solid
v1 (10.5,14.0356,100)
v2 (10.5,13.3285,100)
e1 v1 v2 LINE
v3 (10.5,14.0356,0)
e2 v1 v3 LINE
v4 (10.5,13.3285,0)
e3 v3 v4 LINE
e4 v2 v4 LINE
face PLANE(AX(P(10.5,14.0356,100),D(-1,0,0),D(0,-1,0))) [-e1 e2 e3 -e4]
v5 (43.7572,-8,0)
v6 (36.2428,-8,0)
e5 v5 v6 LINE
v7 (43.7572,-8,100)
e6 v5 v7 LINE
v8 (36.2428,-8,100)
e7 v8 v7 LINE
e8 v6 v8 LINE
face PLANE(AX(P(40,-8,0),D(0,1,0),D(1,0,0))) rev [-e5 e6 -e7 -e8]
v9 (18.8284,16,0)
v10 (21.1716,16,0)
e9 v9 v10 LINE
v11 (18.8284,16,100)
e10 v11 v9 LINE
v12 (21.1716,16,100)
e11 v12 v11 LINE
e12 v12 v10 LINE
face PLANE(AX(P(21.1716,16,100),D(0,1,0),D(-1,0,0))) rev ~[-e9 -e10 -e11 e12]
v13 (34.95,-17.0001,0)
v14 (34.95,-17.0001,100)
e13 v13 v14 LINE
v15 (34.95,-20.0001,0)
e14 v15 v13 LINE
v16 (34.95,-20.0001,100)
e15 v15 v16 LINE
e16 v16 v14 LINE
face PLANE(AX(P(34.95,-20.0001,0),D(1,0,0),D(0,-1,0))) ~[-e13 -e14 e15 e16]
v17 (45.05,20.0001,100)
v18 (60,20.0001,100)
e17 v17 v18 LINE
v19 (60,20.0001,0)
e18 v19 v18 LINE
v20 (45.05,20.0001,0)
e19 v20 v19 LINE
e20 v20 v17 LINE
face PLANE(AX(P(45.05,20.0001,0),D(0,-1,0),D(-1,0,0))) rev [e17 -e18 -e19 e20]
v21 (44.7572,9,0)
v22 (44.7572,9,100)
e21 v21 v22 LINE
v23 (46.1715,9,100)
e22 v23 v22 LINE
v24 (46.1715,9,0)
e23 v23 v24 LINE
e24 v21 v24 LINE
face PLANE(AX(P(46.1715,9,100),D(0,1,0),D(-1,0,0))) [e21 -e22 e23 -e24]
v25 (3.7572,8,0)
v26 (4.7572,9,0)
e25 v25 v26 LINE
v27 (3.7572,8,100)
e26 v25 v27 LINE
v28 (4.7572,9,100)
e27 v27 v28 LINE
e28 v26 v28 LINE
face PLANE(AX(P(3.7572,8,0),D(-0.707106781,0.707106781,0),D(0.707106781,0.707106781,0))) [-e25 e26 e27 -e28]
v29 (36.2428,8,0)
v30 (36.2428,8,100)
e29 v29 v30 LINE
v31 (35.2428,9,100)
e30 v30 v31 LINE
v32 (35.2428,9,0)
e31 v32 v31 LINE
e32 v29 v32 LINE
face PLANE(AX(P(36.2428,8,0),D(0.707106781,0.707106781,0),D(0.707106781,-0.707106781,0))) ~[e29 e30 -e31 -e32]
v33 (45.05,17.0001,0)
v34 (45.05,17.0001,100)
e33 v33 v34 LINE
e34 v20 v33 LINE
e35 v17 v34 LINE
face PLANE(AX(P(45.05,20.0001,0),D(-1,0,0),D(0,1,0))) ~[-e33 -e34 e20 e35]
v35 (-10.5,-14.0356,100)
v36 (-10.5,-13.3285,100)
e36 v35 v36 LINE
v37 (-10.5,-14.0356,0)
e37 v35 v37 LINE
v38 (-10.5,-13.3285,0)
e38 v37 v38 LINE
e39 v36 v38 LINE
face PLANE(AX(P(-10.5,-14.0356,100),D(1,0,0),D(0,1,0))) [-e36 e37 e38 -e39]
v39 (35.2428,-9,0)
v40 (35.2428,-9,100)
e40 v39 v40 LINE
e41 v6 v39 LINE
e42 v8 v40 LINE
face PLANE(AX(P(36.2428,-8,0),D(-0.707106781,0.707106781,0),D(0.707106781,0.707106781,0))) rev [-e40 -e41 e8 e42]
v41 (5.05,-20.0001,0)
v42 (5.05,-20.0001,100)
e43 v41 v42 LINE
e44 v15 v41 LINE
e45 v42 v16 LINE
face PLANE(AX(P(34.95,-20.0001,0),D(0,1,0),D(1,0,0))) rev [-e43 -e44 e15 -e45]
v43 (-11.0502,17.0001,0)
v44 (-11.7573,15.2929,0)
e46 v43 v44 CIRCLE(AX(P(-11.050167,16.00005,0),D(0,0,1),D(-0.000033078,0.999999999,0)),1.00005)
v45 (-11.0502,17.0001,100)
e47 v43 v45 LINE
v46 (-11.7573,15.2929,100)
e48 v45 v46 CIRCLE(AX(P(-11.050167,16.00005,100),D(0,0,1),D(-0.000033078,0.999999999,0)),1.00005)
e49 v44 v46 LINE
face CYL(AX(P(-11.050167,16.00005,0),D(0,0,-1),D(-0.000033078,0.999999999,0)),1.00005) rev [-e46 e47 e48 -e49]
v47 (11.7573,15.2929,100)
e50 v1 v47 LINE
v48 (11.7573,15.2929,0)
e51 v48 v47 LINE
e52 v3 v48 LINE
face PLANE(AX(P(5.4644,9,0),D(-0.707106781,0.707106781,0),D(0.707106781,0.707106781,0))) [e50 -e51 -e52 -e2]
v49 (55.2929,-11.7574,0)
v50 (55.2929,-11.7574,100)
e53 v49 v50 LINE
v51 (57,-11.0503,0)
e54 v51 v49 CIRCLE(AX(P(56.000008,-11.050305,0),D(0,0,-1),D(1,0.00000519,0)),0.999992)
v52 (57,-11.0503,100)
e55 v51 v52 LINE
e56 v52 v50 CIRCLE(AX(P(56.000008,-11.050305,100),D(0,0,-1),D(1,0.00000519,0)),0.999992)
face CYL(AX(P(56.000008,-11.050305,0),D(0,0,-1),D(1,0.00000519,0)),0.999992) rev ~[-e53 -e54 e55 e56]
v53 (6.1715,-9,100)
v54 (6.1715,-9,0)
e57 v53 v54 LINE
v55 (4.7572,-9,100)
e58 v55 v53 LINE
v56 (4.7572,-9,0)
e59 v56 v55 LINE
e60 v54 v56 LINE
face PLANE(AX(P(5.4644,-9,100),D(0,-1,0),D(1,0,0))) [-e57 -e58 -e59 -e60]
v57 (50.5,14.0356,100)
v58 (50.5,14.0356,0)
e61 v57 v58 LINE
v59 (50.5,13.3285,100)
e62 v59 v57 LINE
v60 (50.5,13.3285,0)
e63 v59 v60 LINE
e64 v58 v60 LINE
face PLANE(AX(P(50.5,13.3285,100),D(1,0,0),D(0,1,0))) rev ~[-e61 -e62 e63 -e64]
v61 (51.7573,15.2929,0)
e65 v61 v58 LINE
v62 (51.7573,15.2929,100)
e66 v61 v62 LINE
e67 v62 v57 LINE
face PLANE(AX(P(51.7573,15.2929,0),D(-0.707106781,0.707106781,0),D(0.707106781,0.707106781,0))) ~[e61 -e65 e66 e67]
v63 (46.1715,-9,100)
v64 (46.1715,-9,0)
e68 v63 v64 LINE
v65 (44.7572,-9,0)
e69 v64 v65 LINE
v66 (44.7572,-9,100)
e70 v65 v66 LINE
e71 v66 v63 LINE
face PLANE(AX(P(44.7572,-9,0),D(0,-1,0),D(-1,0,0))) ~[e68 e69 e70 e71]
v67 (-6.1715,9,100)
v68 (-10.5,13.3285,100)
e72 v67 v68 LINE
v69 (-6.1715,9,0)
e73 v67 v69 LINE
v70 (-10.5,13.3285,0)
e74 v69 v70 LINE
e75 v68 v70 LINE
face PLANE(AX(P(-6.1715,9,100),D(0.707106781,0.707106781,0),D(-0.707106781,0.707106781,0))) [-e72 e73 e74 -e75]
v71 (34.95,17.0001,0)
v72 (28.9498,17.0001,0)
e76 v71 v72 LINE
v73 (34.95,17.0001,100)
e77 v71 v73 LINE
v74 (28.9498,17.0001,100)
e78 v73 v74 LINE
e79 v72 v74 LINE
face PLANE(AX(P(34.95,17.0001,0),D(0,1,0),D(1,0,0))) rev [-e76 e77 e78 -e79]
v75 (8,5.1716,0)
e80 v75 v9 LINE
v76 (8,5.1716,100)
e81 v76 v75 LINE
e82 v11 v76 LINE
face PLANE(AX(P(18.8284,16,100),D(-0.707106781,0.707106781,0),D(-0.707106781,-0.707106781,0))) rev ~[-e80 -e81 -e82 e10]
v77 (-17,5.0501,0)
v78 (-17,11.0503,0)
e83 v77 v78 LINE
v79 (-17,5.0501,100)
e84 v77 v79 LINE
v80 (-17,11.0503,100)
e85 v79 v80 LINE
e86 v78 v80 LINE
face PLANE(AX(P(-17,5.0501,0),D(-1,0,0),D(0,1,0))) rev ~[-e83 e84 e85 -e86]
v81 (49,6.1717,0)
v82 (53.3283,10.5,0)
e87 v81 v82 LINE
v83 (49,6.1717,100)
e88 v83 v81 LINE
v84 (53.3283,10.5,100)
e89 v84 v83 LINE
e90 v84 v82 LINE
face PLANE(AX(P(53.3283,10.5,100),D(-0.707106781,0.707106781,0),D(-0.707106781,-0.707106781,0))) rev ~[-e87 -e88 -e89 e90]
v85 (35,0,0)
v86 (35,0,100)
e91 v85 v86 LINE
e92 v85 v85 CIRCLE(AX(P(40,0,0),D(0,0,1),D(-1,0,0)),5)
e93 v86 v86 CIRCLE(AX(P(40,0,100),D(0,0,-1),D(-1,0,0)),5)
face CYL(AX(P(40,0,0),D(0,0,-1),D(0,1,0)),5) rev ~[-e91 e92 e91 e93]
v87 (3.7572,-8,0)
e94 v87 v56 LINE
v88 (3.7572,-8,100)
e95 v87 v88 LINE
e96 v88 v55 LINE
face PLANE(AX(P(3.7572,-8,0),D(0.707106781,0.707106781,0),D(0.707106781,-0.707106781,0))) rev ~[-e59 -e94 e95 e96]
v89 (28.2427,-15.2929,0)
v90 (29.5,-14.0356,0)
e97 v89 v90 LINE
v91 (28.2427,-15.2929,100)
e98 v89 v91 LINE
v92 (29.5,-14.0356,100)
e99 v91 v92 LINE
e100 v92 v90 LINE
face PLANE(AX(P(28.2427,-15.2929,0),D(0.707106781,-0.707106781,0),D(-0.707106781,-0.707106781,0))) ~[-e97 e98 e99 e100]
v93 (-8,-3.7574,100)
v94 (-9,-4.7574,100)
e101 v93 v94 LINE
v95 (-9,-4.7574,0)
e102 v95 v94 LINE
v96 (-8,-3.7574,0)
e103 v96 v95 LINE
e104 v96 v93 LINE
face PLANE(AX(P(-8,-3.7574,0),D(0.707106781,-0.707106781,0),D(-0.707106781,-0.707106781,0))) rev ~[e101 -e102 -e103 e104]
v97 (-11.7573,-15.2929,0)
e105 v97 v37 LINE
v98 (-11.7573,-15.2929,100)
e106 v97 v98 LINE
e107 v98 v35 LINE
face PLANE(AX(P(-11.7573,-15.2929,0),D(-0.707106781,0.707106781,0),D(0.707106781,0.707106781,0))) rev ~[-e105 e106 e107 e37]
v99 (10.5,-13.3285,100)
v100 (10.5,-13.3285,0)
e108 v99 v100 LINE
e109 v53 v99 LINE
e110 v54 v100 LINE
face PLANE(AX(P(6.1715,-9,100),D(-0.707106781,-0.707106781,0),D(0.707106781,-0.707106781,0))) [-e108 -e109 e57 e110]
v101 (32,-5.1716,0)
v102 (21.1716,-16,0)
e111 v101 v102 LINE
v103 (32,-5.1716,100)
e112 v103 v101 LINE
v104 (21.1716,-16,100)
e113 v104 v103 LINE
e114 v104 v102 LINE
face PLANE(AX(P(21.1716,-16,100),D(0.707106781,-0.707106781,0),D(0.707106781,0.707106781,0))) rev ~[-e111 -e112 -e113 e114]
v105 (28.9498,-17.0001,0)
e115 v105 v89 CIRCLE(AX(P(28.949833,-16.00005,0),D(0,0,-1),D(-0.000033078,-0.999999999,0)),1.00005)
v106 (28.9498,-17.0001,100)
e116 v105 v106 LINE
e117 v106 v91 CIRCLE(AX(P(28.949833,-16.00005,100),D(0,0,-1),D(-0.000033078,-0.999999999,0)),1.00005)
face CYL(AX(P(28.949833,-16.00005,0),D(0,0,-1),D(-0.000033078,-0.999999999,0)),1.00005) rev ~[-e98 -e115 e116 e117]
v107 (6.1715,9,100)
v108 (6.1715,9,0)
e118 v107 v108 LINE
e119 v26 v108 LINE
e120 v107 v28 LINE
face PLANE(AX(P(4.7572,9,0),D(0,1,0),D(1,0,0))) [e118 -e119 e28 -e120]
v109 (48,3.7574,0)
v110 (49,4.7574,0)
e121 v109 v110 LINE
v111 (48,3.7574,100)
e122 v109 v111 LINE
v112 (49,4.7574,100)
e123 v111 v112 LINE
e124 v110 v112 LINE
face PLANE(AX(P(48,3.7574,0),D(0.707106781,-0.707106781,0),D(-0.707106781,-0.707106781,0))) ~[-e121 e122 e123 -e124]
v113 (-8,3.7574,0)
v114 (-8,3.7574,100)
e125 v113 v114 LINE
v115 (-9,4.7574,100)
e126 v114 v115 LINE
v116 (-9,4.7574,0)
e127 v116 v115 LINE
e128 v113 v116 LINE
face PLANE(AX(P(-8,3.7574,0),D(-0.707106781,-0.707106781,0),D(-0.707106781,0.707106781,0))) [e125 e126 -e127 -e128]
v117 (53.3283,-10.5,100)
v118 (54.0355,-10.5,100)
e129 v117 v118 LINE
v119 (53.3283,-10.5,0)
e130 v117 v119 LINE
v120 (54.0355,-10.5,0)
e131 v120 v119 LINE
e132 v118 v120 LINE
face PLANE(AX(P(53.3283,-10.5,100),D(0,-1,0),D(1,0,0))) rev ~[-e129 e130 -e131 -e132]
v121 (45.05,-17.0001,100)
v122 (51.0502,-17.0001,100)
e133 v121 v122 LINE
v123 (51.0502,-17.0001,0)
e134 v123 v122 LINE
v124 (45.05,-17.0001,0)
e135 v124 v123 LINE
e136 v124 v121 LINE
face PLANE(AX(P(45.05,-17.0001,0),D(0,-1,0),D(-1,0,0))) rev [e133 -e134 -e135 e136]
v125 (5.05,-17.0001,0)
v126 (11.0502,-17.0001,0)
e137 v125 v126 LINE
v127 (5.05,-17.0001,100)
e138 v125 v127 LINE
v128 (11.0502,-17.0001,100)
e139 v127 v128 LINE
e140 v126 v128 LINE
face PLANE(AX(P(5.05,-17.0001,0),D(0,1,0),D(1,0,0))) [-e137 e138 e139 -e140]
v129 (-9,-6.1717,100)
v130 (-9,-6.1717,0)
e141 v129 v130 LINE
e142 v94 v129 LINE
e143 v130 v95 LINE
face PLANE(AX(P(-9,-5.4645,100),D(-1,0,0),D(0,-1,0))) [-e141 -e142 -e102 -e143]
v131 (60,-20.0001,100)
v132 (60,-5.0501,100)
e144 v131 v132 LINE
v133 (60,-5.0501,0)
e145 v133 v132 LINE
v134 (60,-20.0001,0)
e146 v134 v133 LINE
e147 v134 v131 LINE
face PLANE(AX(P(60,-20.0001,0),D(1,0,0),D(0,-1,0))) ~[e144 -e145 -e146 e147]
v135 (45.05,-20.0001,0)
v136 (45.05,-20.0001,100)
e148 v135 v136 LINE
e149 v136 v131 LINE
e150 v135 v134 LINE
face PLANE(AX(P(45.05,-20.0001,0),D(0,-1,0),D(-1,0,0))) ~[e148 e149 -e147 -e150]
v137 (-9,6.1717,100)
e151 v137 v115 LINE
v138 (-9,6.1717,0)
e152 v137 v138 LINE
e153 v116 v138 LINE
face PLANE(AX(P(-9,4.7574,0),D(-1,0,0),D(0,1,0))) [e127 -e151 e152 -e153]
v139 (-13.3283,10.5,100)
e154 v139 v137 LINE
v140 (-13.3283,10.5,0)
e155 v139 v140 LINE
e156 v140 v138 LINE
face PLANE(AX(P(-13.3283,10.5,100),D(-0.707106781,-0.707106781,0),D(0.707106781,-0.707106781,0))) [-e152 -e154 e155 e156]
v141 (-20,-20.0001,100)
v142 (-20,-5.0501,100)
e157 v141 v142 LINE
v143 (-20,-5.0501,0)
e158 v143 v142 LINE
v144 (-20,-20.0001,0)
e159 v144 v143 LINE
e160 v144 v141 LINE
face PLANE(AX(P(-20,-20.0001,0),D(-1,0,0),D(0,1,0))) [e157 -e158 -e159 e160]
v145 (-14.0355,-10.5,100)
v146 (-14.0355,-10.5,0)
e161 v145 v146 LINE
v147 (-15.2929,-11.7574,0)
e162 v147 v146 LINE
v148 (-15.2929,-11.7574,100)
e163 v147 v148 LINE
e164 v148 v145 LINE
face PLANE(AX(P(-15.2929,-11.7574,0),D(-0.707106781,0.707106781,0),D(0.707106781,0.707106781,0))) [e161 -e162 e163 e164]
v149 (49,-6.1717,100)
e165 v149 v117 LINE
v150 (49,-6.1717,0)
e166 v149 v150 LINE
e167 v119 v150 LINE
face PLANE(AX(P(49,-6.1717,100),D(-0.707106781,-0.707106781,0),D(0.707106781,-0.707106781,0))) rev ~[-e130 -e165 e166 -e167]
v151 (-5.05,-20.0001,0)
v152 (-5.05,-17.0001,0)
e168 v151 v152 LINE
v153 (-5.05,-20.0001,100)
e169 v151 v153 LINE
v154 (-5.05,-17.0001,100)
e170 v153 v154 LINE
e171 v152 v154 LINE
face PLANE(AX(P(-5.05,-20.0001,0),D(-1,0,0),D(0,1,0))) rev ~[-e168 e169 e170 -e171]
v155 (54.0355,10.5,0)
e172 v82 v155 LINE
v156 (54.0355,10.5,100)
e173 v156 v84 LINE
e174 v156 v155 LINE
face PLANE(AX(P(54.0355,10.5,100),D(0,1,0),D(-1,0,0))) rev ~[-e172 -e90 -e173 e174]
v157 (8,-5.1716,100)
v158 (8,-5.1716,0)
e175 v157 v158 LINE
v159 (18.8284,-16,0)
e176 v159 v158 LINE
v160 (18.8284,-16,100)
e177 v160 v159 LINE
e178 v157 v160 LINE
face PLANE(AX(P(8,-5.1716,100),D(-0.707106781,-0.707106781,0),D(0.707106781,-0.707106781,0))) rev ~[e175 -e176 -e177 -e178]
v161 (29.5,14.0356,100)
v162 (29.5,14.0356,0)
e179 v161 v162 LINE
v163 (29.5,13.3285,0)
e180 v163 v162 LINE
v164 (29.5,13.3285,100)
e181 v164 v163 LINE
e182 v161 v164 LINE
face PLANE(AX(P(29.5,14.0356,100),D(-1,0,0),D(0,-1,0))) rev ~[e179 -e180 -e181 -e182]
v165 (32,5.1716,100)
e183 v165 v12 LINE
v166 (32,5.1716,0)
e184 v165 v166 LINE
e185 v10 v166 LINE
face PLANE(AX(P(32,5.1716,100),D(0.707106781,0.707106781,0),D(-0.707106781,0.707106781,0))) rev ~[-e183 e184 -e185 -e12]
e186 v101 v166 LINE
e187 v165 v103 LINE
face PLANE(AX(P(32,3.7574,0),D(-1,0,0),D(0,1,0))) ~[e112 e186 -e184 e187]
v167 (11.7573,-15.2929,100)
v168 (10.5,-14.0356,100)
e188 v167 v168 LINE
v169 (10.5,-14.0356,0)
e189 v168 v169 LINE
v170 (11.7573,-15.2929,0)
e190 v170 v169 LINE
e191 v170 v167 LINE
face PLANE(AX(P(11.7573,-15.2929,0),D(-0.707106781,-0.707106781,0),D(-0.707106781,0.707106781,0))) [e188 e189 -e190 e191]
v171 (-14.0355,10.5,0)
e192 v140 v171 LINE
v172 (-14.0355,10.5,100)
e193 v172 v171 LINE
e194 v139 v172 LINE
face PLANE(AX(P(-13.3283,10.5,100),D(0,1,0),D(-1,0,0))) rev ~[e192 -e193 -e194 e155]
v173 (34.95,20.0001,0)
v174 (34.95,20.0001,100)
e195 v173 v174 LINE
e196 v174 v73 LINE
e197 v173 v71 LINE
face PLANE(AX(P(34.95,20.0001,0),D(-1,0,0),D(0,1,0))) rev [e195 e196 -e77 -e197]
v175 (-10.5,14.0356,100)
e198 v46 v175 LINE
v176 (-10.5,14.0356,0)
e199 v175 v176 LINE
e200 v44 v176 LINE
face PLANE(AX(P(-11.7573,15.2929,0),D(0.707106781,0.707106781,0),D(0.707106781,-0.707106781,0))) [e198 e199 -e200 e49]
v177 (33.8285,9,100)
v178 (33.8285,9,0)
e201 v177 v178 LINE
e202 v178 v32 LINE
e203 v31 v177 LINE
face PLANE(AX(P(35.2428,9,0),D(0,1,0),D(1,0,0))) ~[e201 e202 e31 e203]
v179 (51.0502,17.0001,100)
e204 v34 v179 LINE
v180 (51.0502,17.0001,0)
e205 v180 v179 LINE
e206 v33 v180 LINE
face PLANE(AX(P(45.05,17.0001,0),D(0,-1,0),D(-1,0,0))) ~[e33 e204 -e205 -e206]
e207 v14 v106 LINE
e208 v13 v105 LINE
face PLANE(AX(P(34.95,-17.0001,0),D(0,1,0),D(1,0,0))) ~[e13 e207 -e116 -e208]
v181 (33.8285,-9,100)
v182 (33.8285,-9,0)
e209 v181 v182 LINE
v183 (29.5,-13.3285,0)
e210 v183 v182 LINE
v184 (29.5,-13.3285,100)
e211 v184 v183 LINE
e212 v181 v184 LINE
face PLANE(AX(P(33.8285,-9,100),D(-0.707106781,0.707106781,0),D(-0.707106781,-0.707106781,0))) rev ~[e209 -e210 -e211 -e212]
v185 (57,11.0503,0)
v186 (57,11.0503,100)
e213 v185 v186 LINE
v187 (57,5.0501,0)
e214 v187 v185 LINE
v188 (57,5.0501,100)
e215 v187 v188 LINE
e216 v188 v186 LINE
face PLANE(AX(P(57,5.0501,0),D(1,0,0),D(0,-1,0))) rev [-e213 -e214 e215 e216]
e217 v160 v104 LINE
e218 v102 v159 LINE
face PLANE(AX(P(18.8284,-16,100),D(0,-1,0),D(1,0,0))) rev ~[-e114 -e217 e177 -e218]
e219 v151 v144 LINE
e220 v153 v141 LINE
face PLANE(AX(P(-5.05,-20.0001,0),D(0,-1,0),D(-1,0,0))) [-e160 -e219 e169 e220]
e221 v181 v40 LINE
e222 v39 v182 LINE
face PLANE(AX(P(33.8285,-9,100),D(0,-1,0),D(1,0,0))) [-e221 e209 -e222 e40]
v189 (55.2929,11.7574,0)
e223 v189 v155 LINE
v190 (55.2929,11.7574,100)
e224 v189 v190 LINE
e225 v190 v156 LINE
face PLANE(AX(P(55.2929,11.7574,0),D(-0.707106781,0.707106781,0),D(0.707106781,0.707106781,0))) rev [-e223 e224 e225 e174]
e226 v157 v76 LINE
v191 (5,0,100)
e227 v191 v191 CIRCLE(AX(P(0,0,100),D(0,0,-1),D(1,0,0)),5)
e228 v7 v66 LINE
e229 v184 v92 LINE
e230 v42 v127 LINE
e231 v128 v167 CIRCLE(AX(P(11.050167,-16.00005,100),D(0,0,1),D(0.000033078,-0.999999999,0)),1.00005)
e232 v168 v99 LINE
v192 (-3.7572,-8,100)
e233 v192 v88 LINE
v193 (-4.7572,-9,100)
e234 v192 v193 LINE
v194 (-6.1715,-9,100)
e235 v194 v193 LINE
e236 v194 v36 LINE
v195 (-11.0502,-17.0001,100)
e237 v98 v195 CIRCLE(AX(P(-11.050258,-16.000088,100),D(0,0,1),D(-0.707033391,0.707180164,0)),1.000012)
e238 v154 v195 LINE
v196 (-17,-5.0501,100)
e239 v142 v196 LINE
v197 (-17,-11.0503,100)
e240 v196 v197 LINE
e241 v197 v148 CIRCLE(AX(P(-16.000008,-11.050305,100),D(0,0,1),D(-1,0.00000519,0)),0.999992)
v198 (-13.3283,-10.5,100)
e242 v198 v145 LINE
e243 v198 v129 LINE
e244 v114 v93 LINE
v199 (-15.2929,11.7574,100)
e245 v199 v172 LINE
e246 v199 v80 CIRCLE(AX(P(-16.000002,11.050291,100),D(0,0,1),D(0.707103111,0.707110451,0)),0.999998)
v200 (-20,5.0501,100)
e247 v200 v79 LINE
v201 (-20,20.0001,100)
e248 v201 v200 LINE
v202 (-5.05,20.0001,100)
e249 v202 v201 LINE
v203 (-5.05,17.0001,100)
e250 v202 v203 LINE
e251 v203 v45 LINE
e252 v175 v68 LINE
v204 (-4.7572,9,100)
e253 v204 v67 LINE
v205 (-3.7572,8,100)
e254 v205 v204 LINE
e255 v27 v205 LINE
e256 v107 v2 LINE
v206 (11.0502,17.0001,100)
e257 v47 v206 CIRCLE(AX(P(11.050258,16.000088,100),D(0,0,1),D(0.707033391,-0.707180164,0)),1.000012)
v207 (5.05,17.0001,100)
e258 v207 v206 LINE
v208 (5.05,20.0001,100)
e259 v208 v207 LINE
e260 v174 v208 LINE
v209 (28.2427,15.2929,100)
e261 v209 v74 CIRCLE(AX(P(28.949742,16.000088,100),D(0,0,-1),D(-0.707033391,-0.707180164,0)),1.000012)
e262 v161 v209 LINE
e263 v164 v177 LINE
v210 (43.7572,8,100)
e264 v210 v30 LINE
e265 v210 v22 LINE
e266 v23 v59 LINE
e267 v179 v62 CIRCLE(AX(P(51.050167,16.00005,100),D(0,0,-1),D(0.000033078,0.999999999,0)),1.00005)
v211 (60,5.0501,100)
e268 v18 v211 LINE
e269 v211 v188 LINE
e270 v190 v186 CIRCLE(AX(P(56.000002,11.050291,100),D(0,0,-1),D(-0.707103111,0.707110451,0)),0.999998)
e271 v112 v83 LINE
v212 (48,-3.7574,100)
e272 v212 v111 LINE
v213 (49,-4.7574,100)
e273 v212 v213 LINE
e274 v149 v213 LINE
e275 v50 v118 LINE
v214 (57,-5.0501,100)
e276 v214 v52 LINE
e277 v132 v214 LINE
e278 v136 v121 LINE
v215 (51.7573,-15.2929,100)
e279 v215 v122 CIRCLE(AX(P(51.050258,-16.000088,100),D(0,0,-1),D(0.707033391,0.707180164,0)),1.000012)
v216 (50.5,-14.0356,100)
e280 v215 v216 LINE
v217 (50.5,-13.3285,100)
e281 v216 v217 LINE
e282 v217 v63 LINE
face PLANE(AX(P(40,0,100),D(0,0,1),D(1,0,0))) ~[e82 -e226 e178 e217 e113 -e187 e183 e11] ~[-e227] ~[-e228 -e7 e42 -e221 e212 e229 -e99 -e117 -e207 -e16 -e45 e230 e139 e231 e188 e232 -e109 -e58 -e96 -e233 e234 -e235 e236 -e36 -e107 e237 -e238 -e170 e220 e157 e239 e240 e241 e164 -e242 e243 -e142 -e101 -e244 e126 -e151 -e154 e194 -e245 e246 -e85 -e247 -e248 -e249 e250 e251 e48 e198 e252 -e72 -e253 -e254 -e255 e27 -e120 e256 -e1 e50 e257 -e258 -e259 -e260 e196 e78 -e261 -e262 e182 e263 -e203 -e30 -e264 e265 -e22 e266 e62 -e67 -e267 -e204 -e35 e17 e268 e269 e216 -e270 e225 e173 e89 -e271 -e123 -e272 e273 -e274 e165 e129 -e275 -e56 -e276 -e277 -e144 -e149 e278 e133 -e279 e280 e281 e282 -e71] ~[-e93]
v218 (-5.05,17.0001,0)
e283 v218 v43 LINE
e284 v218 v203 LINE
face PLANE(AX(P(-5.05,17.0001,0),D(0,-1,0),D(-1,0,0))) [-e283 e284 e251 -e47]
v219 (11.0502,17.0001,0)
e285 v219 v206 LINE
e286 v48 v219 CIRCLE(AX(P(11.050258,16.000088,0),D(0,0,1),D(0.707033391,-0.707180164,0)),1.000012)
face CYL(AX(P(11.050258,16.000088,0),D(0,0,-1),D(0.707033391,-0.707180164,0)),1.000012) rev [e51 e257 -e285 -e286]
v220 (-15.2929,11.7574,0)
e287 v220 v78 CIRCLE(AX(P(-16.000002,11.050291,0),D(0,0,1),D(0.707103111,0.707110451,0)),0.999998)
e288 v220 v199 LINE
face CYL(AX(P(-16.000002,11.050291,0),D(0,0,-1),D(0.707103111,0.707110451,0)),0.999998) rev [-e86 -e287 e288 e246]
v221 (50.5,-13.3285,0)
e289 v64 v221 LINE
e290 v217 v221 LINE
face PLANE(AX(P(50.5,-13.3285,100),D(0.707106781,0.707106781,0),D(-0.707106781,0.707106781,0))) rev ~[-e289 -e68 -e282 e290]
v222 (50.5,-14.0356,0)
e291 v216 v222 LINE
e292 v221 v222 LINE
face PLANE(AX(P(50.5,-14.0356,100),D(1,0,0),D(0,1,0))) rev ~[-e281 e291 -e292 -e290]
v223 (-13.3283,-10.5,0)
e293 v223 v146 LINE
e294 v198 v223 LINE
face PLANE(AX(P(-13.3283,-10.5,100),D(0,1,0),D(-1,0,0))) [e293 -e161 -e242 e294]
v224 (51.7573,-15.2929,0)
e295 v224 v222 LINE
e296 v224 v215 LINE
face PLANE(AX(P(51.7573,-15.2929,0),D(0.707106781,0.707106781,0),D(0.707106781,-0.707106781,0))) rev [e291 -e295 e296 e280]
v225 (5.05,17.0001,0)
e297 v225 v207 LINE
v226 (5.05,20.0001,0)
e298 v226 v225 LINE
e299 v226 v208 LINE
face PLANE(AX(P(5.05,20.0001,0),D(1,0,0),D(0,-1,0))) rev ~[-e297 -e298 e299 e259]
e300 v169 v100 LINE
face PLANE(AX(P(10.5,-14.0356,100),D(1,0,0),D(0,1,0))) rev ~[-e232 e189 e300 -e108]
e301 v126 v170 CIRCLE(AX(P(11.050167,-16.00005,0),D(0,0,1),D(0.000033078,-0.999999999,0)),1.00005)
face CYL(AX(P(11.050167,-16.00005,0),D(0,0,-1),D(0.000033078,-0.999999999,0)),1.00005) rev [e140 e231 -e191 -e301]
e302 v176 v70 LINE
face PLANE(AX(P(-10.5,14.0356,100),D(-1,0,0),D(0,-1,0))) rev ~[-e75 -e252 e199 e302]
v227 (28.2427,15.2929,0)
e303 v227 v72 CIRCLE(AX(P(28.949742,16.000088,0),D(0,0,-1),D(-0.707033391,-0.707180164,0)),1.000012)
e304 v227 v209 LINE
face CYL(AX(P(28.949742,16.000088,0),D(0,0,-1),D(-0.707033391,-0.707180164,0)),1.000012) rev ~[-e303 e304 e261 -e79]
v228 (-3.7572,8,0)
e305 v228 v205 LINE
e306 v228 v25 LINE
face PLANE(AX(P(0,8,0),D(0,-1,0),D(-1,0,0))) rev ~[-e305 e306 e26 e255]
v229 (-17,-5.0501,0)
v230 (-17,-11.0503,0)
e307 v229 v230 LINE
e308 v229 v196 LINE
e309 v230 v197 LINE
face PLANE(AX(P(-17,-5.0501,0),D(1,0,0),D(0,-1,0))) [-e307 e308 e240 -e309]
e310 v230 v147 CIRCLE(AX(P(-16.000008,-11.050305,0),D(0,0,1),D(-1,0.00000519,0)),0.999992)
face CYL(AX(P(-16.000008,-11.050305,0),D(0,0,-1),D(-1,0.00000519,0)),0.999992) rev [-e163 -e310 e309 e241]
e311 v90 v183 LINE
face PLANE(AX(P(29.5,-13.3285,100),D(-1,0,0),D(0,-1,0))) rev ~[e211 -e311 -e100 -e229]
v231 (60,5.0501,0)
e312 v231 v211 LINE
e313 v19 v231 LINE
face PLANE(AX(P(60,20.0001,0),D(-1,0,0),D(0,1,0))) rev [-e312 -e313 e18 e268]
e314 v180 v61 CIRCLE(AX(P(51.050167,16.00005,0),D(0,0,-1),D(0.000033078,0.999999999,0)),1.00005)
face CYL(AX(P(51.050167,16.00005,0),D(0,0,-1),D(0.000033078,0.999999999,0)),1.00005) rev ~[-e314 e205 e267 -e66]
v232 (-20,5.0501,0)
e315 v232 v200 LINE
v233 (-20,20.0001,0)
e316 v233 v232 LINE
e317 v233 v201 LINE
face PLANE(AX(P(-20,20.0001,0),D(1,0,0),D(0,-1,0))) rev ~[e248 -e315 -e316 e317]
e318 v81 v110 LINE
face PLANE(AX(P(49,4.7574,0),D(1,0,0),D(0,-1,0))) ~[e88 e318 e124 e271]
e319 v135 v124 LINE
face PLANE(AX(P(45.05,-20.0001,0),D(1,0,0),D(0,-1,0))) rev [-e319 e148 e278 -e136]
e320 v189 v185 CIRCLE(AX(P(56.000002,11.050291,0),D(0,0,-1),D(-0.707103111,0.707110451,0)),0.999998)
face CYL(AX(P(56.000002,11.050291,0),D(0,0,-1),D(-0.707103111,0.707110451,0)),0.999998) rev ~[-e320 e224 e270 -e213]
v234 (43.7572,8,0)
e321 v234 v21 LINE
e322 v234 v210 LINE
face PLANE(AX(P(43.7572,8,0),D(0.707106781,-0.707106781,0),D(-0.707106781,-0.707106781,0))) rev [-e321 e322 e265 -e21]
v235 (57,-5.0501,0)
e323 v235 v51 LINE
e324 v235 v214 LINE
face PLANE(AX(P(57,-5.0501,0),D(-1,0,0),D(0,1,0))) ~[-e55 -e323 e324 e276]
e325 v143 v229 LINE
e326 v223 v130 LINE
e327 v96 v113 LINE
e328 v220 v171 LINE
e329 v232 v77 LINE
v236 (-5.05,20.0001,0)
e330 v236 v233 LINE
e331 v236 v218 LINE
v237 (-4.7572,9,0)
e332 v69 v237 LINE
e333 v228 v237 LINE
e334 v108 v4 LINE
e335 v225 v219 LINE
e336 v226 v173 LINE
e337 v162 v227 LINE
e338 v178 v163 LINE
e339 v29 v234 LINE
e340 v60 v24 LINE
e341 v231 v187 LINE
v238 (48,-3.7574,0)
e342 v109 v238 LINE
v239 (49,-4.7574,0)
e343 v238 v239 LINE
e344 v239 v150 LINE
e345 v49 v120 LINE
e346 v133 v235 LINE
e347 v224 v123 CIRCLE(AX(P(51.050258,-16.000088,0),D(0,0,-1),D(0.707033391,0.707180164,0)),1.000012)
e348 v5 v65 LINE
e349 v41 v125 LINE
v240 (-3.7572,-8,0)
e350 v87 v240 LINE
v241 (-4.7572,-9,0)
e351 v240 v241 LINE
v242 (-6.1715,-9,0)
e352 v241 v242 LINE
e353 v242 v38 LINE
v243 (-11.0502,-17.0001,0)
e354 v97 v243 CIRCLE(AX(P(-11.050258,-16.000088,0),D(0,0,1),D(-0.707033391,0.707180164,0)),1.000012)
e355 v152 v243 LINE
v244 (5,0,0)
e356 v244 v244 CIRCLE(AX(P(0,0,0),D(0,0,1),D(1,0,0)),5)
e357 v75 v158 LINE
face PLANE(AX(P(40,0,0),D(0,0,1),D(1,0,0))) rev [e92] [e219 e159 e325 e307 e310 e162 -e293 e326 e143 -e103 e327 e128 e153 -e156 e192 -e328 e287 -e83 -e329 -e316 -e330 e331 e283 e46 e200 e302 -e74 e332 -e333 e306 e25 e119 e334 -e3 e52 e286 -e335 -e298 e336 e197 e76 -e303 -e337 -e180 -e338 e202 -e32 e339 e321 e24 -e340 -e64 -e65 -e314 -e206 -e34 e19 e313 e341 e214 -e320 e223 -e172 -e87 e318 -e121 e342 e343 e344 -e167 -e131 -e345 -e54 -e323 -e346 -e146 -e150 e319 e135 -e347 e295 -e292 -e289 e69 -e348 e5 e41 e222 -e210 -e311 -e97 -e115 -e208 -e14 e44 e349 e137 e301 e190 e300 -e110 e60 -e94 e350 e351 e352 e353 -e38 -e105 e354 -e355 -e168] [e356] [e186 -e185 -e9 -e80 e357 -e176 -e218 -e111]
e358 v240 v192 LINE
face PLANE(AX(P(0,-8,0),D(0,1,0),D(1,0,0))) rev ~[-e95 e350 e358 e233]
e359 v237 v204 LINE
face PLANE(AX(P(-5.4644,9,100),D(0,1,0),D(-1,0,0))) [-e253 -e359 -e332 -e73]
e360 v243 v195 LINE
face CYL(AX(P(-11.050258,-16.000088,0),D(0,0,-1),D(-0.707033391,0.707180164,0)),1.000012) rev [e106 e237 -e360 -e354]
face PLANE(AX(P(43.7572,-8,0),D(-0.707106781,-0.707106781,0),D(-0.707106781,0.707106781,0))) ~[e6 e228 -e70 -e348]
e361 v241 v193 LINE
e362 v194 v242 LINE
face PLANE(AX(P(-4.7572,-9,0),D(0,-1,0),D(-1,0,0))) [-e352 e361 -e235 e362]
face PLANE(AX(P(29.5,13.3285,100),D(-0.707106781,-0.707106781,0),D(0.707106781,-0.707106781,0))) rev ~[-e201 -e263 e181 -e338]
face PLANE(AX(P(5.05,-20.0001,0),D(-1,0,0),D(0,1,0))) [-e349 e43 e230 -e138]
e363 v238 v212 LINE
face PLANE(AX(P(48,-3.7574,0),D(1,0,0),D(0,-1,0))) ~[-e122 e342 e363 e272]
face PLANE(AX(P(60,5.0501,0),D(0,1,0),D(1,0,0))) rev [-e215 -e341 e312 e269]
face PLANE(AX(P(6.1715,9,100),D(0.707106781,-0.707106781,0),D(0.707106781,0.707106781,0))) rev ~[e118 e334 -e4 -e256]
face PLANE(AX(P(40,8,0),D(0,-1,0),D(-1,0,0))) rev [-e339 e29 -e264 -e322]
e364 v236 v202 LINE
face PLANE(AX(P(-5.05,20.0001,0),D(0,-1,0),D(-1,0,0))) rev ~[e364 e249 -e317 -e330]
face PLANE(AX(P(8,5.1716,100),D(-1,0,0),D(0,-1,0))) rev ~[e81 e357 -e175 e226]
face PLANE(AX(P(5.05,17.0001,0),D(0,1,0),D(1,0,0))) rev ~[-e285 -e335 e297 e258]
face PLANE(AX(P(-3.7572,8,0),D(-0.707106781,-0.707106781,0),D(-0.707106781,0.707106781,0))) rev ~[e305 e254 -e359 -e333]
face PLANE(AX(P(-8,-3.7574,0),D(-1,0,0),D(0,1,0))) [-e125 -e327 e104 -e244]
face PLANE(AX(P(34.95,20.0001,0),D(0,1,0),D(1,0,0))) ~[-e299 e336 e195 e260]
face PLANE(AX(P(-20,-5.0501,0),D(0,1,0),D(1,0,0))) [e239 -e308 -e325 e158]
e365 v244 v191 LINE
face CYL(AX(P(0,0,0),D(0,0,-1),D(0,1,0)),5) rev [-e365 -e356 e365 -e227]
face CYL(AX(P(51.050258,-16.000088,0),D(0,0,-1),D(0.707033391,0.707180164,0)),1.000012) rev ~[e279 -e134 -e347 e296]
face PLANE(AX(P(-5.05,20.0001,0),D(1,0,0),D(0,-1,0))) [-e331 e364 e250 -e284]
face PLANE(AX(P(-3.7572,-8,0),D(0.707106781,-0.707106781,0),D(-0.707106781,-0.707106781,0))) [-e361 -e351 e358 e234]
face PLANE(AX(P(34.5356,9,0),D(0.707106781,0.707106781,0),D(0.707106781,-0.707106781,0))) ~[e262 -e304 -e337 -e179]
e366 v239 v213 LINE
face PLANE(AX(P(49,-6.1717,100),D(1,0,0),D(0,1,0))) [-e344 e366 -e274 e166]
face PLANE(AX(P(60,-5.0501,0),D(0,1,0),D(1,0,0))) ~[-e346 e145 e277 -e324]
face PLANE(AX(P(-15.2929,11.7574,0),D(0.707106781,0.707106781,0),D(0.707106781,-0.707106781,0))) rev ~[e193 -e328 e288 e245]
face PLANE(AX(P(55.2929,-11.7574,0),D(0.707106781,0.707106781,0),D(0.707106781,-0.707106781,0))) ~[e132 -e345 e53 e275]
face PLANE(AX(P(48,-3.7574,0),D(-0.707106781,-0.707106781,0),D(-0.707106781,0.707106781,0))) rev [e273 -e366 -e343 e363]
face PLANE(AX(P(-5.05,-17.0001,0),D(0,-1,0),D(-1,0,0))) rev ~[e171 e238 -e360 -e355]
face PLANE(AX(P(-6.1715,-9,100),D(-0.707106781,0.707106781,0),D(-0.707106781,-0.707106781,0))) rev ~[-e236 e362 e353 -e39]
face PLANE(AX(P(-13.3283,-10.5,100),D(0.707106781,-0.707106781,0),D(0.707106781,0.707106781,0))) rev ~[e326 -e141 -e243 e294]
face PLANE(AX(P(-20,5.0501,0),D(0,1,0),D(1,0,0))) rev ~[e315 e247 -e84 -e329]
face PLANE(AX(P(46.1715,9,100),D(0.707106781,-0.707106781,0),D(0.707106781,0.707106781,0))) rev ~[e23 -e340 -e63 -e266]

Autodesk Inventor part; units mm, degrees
ref_plane "YZ Plane" through (0, 0, 0) normal (1, 0, 0) x (0, 1, 0)
ref_plane "XZ Plane" through (0, 0, 0) normal (0, 1, 0) x (-1, 0, 0)
ref_plane "XY Plane" through (0, 0, 0) normal (0, 0, 1) x (1, 0, 0)
sketch "Sketch1" plane through (0, 0, 0) normal (0, 0, 1) x (1, 0, 0)
  arc A0 (0, 5) -> (-5, 0) centre (0, 0) ccw
  line L0 (-5.05, 20.0001) -> (-20, 20.0001)
  line L1 (-20, 20.0001) -> (-20, 5.0501)
  line L2 (-20, 5.0501) -> (-17, 5.0501)
  line L3 (-5.05, 20.0001) -> (-5.05, 17.0001)
  line L4 (0, 8) -> (-3.7572, 8)
  line L5 (-8, 3.7574) -> (-8, 0)
  arc A1 (-15.2929, 11.7574) -> (-17, 11.0503) centre (-16, 11.0503) ccw
  arc A2 (-11.0502, 17.0001) -> (-11.7573, 15.2929) centre (-11.0502, 16.0001) ccw
  line L6 (-17, 5.0501) -> (-17, 11.0503)
  line L7 (-5.05, 17.0001) -> (-11.0502, 17.0001)
  line L8 (-11.7573, 15.2929) -> (-5.4644, 9)
  line L9 (-15.2929, 11.7574) -> (-9, 5.4645)
  line L10 (0, 0) -> (-41.3511, 0) construction
  arc A3 (-5, 0) -> (0, -5) centre (0, 0) ccw
  line L11 (-5.05, -20.0001) -> (-20, -20.0001)
  line L12 (-20, -20.0001) -> (-20, -5.0501)
  line L13 (-20, -5.0501) -> (-17, -5.0501)
  line L14 (-5.05, -20.0001) -> (-5.05, -17.0001)
  line L15 (0, -8) -> (-3.7572, -8)
  line L16 (-8, -3.7574) -> (-8, 0)
  arc A4 (-17, -11.0503) -> (-15.2929, -11.7574) centre (-16, -11.0503) ccw
  arc A5 (-11.7573, -15.2929) -> (-11.0502, -17.0001) centre (-11.0502, -16.0001) ccw
  line L17 (-17, -5.0501) -> (-17, -11.0503)
  line L18 (-5.05, -17.0001) -> (-11.0502, -17.0001)
  line L19 (-11.7573, -15.2929) -> (-5.4644, -9)
  line L20 (-15.2929, -11.7574) -> (-9, -5.4645)
  line L21 (0, 26.9899) -> (0, -26.9183) construction
  arc A6 (0, -5) -> (5, 0) centre (0, 0) ccw
  line L22 (8, -3.7574) -> (8, 0)
  line L23 (15.2929, -11.7574) -> (9, -5.4645)
  line L24 (11.7573, -15.2929) -> (5.4644, -9)
  line L25 (0, -8) -> (3.7572, -8)
  line L26 (5.05, -17.0001) -> (11.0502, -17.0001)
  arc A7 (11.0502, -17.0001) -> (11.7573, -15.2929) centre (11.0502, -16.0001) ccw
  line L27 (5.05, -20.0001) -> (5.05, -17.0001)
  line L28 (5.05, -20.0001) -> (20, -20.0001)
  line L29 (20, -20.0001) -> (20, -5.0501)
  line L30 (20, -5.0501) -> (17, -5.0501)
  line L31 (17, -5.0501) -> (17, -11.0503)
  arc A8 (15.2929, -11.7574) -> (17, -11.0503) centre (16, -11.0503) ccw
  arc A9 (5, 0) -> (0, 5) centre (0, 0) ccw
  line L32 (20, 5.0501) -> (20, 20.0001)
  line L33 (5.05, 20.0001) -> (20, 20.0001)
  line L34 (5.05, 20.0001) -> (5.05, 17.0001)
  line L35 (20, 5.0501) -> (17, 5.0501)
  line L36 (5.4644, 9) -> (11.7573, 15.2929)
  line L37 (9, 5.4645) -> (15.2929, 11.7574)
  line L38 (5.05, 17.0001) -> (11.0502, 17.0001)
  line L39 (17, 5.0501) -> (17, 11.0503)
  arc A10 (11.7573, 15.2929) -> (11.0502, 17.0001) centre (11.0502, 16.0001) ccw
  arc A11 (17, 11.0503) -> (15.2929, 11.7574) centre (16, 11.0503) ccw
  line L40 (-3.7572, 8) -> (-4.7572, 9)
  line L41 (-8, 3.7574) -> (-9, 4.7574)
  line L42 (-9, 4.7574) -> (-9, 5.4645)
  line L43 (-4.7572, 9) -> (-5.4644, 9)
  line L44 (-3.7572, -8) -> (-4.7572, -9)
  line L45 (-8, -3.7574) -> (-9, -4.7574)
  line L46 (-9, -4.7574) -> (-9, -5.4645)
  line L47 (-4.7572, -9) -> (-5.4644, -9)
  line L48 (3.7572, 8) -> (4.7572, 9)
  line L49 (8, 3.7574) -> (9, 4.7574)
  line L50 (9, 4.7574) -> (9, 5.4645)
  line L51 (4.7572, 9) -> (5.4644, 9)
  line L52 (8, -3.7574) -> (9, -4.7574)
  line L53 (9, -4.7574) -> (9, -5.4645)
  line L54 (4.7572, -9) -> (5.4644, -9)
  line L55 (3.7572, -8) -> (4.7572, -9)
  line L56 (0, 8) -> (3.7572, 8)
  line L57 (8, 3.7574) -> (8, 0)
  point P0 (-4.4644, 8)
  point P1 (-8, 4.4645)
  dimension "d0" = 10
  dimension "d3" = 14.95
  dimension "d4" = 14.95
  dimension "d5" = 3
  dimension "d7" = 2
  dimension "d8" = 4
  dimension "d9" = 4
  dimension "d10" = 8.9498
  dimension "d11" = 8.9498
  dimension "d12" = 45
  dimension "d16" = 8
  dimension "d17" = 8
  dimension "d18" = 2.5
  dimension "d19" = 20
  dimension "d21" = 1
  dimension "d24" = 0.5
  dimension "d25" = 0.5
  dimension "d26" = 1
extrude "MK, 40X80" add sketch "Sketch1" along normal blind 100
sketch "Sketch2" plane through (0, 0, 100) normal (0, 0, 1) x (1, 0, 0)
  circle A0 centre (0, 0) radius 5 projected
  line L0 (-9, 5.4645) -> (-15.2929, 11.7574) projected
  line L1 (-11.7573, 15.2929) -> (-5.4644, 9) projected
  line L2 (-13.3283, 10.5) -> (-9, 6.1717)
  line L3 (-6.1715, 9) -> (-10.5, 13.3285)
  line L4 (-5.4644, 9) -> (-6.1715, 9)
  line L5 (-5.4644, 9) -> (-4.7572, 9) projected
  line L6 (-9, 5.4645) -> (-9, 6.1717)
  line L7 (-10.5, 14.0356) -> (-10.5, 13.3285)
  line L8 (-13.3283, 10.5) -> (-14.0355, 10.5)
  line L9 (0, 0) -> (-37.9325, 0) construction
  line L10 (0, 26.9937) -> (0, -28.1119) construction
  line L11 (-13.3283, -10.5) -> (-9, -6.1717)
  line L12 (-6.1715, -9) -> (-10.5, -13.3285)
  line L13 (-5.4644, -9) -> (-6.1715, -9)
  line L14 (-9, -5.4645) -> (-9, -6.1717)
  line L15 (-10.5, -14.0356) -> (-10.5, -13.3285)
  line L16 (-13.3283, -10.5) -> (-14.0355, -10.5)
  line L17 (13.3283, 10.5) -> (9, 6.1717)
  line L18 (6.1715, 9) -> (10.5, 13.3285)
  line L19 (5.4644, 9) -> (6.1715, 9)
  line L20 (9, 5.4645) -> (9, 6.1717)
  line L21 (10.5, 14.0356) -> (10.5, 13.3285)
  line L22 (13.3283, 10.5) -> (14.0355, 10.5)
  line L23 (13.3283, -10.5) -> (14.0355, -10.5)
  line L24 (13.3283, -10.5) -> (9, -6.1717)
  line L25 (9, -5.4645) -> (9, -6.1717)
  line L26 (5.4644, -9) -> (6.1715, -9)
  line L27 (6.1715, -9) -> (10.5, -13.3285)
  line L28 (10.5, -14.0356) -> (10.5, -13.3285)
  line L29 (-14.0355, -10.5) -> (-9, -5.4645)
  line L30 (-15.2929, -11.7574) -> (-9, -5.4645) projected
  line L31 (-5.4644, -9) -> (-10.5, -14.0356)
  line L32 (-5.4644, -9) -> (-11.7573, -15.2929) projected
  line L33 (10.5, -14.0356) -> (5.4644, -9)
  line L34 (14.0355, -10.5) -> (9, -5.4645)
  line L35 (9, 5.4645) -> (14.0355, 10.5)
  line L36 (10.5, 14.0356) -> (5.4644, 9)
  dimension "d28" = 4
  dimension "d29" = 0.5
  dimension "d30" = 10.5
  dimension "d31" = 10.5
extrude "Extrusion2" cut sketch "Sketch2" against normal through all contours L0 L8 L2 L6 | L1 L4 L3 L7 | L16 L29 L14 L11 | L13 L31 L15 L12 | L19 L36 L21 L18 | L26 L27 L28 L33
mirror "Mirror1" about plane through (20, 20.0001, 0) normal (1, 0, 0) of "MK, 40X80"
sketch "Sketch3" plane through (0, 0, 100) normal (0, 0, 1) x (1, 0, 0)
  line L0 (28.2427, -15.2929) -> (34.5356, -9) projected
  line L1 (23, 5.0501) -> (17, 5.0501) projected
  line L2 (23, -5.0501) -> (17, -5.0501) projected
  line L3 (15.2929, 11.7574) -> (14.0355, 10.5) projected
  line L4 (17, 5.0501) -> (17, 11.0503) projected
  line L5 (18.8284, 16) -> (8, 5.1716)
  line L6 (8, 5.1716) -> (8, -5.1716)
  line L7 (8, -5.1716) -> (18.8284, -16)
  line L8 (18.8284, -16) -> (21.1716, -16)
  line L9 (21.1716, -16) -> (32, -5.1716)
  line L10 (32, -5.1716) -> (32, 5.1716)
  line L11 (32, 5.1716) -> (21.1716, 16)
  line L12 (21.1716, 16) -> (18.8284, 16)
  line L13 (20, 5.0501) -> (20, -5.0501)
  line L14 (11.798, 0) -> (20, 0)
  dimension "d34" = 24
  dimension "d35" = 32
  dimension "d36" = 10.3432
  dimension "d37" = 12
  dimension "d38" = 16
extrude "Extrusion3" cut sketch "Sketch3" against normal through all
sketch "Sketch4" plane through (0, 0, 100) normal (0, 0, 1) x (1, 0, 0)
  line L0 (34.95, 20.0001) -> (5.05, 20.0001) projected
  line L1 (10.5, 14.0356) -> (10.5, 13.3285) projected
  line L2 (10.5, 13.3285) -> (6.1715, 9) projected
  line L3 (-6.1715, 9) -> (-10.5, 13.3285) projected
  line L4 (-10.5, 13.3285) -> (-10.5, 14.0356) projected
  line L5 (-14.0355, 10.5) -> (-13.3283, 10.5) projected
  line L6 (-13.3283, 10.5) -> (-9, 6.1717) projected
  line L7 (-9, -6.1717) -> (-13.3283, -10.5) projected
  line L8 (-13.3283, -10.5) -> (-14.0355, -10.5) projected
  line L9 (-10.5, -14.0356) -> (-10.5, -13.3285) projected
  line L10 (-10.5, -13.3285) -> (-6.1715, -9) projected
  line L11 (6.1715, -9) -> (10.5, -13.3285) projected
  line L12 (10.5, -13.3285) -> (10.5, -14.0356) projected
  line L13 (34.95, -20.0001) -> (5.05, -20.0001) projected
  line L14 (20, 20.0001) -> (20, -20.0001)
  line L15 (29.5, 14.0356) -> (29.5, 13.3285)
  line L16 (29.5, 13.3285) -> (33.8285, 9)
  line L17 (46.1715, 9) -> (50.5, 13.3285)
  line L18 (50.5, 13.3285) -> (50.5, 14.0356)
  line L19 (54.0355, 10.5) -> (53.3283, 10.5)
  line L20 (53.3283, 10.5) -> (49, 6.1717)
  line L21 (49, -6.1717) -> (53.3283, -10.5)
  line L22 (53.3283, -10.5) -> (54.0355, -10.5)
  line L23 (50.5, -14.0356) -> (50.5, -13.3285)
  line L24 (50.5, -13.3285) -> (46.1715, -9)
  line L25 (33.8285, -9) -> (29.5, -13.3285)
  line L26 (29.5, -13.3285) -> (29.5, -14.0356)
  line L27 (29.5, 14.0356) -> (34.5356, 9)
  line L28 (45.4644, 9) -> (50.5, 14.0356)
  line L29 (54.0355, -10.5) -> (49, -5.4645)
  line L30 (50.5, -14.0356) -> (45.4644, -9)
  line L31 (34.5356, -9) -> (29.5, -14.0356)
  line L32 (33.8285, 9) -> (34.5356, 9)
  line L33 (34.5356, 9) -> (29.5, 14.0356)
  line L34 (34.5356, 9) -> (28.2427, 15.2929) projected
  line L35 (46.1715, 9) -> (45.4644, 9)
  line L36 (49, 6.1717) -> (49, 5.4645)
  line L37 (49, 4.7574) -> (49, 5.4645) projected
  line L38 (49, 5.4645) -> (54.0355, 10.5)
  line L39 (49, 5.4645) -> (55.2929, 11.7574) projected
  line L40 (49, -6.1717) -> (49, -5.4645)
  line L41 (46.1715, -9) -> (45.4644, -9)
  line L42 (45.4644, -9) -> (51.7573, -15.2929) projected
  line L43 (33.8285, -9) -> (34.5356, -9)
extrude "Extrusion4" cut sketch "Sketch4" against normal through all
equation "\"d4\" = d3"
properties part number "BAR, EXTRUDED ALUM, 40MMX80MM, MK, STD DUTY, 54_02 SERIES" material "Aluminum, 6061-T6"
